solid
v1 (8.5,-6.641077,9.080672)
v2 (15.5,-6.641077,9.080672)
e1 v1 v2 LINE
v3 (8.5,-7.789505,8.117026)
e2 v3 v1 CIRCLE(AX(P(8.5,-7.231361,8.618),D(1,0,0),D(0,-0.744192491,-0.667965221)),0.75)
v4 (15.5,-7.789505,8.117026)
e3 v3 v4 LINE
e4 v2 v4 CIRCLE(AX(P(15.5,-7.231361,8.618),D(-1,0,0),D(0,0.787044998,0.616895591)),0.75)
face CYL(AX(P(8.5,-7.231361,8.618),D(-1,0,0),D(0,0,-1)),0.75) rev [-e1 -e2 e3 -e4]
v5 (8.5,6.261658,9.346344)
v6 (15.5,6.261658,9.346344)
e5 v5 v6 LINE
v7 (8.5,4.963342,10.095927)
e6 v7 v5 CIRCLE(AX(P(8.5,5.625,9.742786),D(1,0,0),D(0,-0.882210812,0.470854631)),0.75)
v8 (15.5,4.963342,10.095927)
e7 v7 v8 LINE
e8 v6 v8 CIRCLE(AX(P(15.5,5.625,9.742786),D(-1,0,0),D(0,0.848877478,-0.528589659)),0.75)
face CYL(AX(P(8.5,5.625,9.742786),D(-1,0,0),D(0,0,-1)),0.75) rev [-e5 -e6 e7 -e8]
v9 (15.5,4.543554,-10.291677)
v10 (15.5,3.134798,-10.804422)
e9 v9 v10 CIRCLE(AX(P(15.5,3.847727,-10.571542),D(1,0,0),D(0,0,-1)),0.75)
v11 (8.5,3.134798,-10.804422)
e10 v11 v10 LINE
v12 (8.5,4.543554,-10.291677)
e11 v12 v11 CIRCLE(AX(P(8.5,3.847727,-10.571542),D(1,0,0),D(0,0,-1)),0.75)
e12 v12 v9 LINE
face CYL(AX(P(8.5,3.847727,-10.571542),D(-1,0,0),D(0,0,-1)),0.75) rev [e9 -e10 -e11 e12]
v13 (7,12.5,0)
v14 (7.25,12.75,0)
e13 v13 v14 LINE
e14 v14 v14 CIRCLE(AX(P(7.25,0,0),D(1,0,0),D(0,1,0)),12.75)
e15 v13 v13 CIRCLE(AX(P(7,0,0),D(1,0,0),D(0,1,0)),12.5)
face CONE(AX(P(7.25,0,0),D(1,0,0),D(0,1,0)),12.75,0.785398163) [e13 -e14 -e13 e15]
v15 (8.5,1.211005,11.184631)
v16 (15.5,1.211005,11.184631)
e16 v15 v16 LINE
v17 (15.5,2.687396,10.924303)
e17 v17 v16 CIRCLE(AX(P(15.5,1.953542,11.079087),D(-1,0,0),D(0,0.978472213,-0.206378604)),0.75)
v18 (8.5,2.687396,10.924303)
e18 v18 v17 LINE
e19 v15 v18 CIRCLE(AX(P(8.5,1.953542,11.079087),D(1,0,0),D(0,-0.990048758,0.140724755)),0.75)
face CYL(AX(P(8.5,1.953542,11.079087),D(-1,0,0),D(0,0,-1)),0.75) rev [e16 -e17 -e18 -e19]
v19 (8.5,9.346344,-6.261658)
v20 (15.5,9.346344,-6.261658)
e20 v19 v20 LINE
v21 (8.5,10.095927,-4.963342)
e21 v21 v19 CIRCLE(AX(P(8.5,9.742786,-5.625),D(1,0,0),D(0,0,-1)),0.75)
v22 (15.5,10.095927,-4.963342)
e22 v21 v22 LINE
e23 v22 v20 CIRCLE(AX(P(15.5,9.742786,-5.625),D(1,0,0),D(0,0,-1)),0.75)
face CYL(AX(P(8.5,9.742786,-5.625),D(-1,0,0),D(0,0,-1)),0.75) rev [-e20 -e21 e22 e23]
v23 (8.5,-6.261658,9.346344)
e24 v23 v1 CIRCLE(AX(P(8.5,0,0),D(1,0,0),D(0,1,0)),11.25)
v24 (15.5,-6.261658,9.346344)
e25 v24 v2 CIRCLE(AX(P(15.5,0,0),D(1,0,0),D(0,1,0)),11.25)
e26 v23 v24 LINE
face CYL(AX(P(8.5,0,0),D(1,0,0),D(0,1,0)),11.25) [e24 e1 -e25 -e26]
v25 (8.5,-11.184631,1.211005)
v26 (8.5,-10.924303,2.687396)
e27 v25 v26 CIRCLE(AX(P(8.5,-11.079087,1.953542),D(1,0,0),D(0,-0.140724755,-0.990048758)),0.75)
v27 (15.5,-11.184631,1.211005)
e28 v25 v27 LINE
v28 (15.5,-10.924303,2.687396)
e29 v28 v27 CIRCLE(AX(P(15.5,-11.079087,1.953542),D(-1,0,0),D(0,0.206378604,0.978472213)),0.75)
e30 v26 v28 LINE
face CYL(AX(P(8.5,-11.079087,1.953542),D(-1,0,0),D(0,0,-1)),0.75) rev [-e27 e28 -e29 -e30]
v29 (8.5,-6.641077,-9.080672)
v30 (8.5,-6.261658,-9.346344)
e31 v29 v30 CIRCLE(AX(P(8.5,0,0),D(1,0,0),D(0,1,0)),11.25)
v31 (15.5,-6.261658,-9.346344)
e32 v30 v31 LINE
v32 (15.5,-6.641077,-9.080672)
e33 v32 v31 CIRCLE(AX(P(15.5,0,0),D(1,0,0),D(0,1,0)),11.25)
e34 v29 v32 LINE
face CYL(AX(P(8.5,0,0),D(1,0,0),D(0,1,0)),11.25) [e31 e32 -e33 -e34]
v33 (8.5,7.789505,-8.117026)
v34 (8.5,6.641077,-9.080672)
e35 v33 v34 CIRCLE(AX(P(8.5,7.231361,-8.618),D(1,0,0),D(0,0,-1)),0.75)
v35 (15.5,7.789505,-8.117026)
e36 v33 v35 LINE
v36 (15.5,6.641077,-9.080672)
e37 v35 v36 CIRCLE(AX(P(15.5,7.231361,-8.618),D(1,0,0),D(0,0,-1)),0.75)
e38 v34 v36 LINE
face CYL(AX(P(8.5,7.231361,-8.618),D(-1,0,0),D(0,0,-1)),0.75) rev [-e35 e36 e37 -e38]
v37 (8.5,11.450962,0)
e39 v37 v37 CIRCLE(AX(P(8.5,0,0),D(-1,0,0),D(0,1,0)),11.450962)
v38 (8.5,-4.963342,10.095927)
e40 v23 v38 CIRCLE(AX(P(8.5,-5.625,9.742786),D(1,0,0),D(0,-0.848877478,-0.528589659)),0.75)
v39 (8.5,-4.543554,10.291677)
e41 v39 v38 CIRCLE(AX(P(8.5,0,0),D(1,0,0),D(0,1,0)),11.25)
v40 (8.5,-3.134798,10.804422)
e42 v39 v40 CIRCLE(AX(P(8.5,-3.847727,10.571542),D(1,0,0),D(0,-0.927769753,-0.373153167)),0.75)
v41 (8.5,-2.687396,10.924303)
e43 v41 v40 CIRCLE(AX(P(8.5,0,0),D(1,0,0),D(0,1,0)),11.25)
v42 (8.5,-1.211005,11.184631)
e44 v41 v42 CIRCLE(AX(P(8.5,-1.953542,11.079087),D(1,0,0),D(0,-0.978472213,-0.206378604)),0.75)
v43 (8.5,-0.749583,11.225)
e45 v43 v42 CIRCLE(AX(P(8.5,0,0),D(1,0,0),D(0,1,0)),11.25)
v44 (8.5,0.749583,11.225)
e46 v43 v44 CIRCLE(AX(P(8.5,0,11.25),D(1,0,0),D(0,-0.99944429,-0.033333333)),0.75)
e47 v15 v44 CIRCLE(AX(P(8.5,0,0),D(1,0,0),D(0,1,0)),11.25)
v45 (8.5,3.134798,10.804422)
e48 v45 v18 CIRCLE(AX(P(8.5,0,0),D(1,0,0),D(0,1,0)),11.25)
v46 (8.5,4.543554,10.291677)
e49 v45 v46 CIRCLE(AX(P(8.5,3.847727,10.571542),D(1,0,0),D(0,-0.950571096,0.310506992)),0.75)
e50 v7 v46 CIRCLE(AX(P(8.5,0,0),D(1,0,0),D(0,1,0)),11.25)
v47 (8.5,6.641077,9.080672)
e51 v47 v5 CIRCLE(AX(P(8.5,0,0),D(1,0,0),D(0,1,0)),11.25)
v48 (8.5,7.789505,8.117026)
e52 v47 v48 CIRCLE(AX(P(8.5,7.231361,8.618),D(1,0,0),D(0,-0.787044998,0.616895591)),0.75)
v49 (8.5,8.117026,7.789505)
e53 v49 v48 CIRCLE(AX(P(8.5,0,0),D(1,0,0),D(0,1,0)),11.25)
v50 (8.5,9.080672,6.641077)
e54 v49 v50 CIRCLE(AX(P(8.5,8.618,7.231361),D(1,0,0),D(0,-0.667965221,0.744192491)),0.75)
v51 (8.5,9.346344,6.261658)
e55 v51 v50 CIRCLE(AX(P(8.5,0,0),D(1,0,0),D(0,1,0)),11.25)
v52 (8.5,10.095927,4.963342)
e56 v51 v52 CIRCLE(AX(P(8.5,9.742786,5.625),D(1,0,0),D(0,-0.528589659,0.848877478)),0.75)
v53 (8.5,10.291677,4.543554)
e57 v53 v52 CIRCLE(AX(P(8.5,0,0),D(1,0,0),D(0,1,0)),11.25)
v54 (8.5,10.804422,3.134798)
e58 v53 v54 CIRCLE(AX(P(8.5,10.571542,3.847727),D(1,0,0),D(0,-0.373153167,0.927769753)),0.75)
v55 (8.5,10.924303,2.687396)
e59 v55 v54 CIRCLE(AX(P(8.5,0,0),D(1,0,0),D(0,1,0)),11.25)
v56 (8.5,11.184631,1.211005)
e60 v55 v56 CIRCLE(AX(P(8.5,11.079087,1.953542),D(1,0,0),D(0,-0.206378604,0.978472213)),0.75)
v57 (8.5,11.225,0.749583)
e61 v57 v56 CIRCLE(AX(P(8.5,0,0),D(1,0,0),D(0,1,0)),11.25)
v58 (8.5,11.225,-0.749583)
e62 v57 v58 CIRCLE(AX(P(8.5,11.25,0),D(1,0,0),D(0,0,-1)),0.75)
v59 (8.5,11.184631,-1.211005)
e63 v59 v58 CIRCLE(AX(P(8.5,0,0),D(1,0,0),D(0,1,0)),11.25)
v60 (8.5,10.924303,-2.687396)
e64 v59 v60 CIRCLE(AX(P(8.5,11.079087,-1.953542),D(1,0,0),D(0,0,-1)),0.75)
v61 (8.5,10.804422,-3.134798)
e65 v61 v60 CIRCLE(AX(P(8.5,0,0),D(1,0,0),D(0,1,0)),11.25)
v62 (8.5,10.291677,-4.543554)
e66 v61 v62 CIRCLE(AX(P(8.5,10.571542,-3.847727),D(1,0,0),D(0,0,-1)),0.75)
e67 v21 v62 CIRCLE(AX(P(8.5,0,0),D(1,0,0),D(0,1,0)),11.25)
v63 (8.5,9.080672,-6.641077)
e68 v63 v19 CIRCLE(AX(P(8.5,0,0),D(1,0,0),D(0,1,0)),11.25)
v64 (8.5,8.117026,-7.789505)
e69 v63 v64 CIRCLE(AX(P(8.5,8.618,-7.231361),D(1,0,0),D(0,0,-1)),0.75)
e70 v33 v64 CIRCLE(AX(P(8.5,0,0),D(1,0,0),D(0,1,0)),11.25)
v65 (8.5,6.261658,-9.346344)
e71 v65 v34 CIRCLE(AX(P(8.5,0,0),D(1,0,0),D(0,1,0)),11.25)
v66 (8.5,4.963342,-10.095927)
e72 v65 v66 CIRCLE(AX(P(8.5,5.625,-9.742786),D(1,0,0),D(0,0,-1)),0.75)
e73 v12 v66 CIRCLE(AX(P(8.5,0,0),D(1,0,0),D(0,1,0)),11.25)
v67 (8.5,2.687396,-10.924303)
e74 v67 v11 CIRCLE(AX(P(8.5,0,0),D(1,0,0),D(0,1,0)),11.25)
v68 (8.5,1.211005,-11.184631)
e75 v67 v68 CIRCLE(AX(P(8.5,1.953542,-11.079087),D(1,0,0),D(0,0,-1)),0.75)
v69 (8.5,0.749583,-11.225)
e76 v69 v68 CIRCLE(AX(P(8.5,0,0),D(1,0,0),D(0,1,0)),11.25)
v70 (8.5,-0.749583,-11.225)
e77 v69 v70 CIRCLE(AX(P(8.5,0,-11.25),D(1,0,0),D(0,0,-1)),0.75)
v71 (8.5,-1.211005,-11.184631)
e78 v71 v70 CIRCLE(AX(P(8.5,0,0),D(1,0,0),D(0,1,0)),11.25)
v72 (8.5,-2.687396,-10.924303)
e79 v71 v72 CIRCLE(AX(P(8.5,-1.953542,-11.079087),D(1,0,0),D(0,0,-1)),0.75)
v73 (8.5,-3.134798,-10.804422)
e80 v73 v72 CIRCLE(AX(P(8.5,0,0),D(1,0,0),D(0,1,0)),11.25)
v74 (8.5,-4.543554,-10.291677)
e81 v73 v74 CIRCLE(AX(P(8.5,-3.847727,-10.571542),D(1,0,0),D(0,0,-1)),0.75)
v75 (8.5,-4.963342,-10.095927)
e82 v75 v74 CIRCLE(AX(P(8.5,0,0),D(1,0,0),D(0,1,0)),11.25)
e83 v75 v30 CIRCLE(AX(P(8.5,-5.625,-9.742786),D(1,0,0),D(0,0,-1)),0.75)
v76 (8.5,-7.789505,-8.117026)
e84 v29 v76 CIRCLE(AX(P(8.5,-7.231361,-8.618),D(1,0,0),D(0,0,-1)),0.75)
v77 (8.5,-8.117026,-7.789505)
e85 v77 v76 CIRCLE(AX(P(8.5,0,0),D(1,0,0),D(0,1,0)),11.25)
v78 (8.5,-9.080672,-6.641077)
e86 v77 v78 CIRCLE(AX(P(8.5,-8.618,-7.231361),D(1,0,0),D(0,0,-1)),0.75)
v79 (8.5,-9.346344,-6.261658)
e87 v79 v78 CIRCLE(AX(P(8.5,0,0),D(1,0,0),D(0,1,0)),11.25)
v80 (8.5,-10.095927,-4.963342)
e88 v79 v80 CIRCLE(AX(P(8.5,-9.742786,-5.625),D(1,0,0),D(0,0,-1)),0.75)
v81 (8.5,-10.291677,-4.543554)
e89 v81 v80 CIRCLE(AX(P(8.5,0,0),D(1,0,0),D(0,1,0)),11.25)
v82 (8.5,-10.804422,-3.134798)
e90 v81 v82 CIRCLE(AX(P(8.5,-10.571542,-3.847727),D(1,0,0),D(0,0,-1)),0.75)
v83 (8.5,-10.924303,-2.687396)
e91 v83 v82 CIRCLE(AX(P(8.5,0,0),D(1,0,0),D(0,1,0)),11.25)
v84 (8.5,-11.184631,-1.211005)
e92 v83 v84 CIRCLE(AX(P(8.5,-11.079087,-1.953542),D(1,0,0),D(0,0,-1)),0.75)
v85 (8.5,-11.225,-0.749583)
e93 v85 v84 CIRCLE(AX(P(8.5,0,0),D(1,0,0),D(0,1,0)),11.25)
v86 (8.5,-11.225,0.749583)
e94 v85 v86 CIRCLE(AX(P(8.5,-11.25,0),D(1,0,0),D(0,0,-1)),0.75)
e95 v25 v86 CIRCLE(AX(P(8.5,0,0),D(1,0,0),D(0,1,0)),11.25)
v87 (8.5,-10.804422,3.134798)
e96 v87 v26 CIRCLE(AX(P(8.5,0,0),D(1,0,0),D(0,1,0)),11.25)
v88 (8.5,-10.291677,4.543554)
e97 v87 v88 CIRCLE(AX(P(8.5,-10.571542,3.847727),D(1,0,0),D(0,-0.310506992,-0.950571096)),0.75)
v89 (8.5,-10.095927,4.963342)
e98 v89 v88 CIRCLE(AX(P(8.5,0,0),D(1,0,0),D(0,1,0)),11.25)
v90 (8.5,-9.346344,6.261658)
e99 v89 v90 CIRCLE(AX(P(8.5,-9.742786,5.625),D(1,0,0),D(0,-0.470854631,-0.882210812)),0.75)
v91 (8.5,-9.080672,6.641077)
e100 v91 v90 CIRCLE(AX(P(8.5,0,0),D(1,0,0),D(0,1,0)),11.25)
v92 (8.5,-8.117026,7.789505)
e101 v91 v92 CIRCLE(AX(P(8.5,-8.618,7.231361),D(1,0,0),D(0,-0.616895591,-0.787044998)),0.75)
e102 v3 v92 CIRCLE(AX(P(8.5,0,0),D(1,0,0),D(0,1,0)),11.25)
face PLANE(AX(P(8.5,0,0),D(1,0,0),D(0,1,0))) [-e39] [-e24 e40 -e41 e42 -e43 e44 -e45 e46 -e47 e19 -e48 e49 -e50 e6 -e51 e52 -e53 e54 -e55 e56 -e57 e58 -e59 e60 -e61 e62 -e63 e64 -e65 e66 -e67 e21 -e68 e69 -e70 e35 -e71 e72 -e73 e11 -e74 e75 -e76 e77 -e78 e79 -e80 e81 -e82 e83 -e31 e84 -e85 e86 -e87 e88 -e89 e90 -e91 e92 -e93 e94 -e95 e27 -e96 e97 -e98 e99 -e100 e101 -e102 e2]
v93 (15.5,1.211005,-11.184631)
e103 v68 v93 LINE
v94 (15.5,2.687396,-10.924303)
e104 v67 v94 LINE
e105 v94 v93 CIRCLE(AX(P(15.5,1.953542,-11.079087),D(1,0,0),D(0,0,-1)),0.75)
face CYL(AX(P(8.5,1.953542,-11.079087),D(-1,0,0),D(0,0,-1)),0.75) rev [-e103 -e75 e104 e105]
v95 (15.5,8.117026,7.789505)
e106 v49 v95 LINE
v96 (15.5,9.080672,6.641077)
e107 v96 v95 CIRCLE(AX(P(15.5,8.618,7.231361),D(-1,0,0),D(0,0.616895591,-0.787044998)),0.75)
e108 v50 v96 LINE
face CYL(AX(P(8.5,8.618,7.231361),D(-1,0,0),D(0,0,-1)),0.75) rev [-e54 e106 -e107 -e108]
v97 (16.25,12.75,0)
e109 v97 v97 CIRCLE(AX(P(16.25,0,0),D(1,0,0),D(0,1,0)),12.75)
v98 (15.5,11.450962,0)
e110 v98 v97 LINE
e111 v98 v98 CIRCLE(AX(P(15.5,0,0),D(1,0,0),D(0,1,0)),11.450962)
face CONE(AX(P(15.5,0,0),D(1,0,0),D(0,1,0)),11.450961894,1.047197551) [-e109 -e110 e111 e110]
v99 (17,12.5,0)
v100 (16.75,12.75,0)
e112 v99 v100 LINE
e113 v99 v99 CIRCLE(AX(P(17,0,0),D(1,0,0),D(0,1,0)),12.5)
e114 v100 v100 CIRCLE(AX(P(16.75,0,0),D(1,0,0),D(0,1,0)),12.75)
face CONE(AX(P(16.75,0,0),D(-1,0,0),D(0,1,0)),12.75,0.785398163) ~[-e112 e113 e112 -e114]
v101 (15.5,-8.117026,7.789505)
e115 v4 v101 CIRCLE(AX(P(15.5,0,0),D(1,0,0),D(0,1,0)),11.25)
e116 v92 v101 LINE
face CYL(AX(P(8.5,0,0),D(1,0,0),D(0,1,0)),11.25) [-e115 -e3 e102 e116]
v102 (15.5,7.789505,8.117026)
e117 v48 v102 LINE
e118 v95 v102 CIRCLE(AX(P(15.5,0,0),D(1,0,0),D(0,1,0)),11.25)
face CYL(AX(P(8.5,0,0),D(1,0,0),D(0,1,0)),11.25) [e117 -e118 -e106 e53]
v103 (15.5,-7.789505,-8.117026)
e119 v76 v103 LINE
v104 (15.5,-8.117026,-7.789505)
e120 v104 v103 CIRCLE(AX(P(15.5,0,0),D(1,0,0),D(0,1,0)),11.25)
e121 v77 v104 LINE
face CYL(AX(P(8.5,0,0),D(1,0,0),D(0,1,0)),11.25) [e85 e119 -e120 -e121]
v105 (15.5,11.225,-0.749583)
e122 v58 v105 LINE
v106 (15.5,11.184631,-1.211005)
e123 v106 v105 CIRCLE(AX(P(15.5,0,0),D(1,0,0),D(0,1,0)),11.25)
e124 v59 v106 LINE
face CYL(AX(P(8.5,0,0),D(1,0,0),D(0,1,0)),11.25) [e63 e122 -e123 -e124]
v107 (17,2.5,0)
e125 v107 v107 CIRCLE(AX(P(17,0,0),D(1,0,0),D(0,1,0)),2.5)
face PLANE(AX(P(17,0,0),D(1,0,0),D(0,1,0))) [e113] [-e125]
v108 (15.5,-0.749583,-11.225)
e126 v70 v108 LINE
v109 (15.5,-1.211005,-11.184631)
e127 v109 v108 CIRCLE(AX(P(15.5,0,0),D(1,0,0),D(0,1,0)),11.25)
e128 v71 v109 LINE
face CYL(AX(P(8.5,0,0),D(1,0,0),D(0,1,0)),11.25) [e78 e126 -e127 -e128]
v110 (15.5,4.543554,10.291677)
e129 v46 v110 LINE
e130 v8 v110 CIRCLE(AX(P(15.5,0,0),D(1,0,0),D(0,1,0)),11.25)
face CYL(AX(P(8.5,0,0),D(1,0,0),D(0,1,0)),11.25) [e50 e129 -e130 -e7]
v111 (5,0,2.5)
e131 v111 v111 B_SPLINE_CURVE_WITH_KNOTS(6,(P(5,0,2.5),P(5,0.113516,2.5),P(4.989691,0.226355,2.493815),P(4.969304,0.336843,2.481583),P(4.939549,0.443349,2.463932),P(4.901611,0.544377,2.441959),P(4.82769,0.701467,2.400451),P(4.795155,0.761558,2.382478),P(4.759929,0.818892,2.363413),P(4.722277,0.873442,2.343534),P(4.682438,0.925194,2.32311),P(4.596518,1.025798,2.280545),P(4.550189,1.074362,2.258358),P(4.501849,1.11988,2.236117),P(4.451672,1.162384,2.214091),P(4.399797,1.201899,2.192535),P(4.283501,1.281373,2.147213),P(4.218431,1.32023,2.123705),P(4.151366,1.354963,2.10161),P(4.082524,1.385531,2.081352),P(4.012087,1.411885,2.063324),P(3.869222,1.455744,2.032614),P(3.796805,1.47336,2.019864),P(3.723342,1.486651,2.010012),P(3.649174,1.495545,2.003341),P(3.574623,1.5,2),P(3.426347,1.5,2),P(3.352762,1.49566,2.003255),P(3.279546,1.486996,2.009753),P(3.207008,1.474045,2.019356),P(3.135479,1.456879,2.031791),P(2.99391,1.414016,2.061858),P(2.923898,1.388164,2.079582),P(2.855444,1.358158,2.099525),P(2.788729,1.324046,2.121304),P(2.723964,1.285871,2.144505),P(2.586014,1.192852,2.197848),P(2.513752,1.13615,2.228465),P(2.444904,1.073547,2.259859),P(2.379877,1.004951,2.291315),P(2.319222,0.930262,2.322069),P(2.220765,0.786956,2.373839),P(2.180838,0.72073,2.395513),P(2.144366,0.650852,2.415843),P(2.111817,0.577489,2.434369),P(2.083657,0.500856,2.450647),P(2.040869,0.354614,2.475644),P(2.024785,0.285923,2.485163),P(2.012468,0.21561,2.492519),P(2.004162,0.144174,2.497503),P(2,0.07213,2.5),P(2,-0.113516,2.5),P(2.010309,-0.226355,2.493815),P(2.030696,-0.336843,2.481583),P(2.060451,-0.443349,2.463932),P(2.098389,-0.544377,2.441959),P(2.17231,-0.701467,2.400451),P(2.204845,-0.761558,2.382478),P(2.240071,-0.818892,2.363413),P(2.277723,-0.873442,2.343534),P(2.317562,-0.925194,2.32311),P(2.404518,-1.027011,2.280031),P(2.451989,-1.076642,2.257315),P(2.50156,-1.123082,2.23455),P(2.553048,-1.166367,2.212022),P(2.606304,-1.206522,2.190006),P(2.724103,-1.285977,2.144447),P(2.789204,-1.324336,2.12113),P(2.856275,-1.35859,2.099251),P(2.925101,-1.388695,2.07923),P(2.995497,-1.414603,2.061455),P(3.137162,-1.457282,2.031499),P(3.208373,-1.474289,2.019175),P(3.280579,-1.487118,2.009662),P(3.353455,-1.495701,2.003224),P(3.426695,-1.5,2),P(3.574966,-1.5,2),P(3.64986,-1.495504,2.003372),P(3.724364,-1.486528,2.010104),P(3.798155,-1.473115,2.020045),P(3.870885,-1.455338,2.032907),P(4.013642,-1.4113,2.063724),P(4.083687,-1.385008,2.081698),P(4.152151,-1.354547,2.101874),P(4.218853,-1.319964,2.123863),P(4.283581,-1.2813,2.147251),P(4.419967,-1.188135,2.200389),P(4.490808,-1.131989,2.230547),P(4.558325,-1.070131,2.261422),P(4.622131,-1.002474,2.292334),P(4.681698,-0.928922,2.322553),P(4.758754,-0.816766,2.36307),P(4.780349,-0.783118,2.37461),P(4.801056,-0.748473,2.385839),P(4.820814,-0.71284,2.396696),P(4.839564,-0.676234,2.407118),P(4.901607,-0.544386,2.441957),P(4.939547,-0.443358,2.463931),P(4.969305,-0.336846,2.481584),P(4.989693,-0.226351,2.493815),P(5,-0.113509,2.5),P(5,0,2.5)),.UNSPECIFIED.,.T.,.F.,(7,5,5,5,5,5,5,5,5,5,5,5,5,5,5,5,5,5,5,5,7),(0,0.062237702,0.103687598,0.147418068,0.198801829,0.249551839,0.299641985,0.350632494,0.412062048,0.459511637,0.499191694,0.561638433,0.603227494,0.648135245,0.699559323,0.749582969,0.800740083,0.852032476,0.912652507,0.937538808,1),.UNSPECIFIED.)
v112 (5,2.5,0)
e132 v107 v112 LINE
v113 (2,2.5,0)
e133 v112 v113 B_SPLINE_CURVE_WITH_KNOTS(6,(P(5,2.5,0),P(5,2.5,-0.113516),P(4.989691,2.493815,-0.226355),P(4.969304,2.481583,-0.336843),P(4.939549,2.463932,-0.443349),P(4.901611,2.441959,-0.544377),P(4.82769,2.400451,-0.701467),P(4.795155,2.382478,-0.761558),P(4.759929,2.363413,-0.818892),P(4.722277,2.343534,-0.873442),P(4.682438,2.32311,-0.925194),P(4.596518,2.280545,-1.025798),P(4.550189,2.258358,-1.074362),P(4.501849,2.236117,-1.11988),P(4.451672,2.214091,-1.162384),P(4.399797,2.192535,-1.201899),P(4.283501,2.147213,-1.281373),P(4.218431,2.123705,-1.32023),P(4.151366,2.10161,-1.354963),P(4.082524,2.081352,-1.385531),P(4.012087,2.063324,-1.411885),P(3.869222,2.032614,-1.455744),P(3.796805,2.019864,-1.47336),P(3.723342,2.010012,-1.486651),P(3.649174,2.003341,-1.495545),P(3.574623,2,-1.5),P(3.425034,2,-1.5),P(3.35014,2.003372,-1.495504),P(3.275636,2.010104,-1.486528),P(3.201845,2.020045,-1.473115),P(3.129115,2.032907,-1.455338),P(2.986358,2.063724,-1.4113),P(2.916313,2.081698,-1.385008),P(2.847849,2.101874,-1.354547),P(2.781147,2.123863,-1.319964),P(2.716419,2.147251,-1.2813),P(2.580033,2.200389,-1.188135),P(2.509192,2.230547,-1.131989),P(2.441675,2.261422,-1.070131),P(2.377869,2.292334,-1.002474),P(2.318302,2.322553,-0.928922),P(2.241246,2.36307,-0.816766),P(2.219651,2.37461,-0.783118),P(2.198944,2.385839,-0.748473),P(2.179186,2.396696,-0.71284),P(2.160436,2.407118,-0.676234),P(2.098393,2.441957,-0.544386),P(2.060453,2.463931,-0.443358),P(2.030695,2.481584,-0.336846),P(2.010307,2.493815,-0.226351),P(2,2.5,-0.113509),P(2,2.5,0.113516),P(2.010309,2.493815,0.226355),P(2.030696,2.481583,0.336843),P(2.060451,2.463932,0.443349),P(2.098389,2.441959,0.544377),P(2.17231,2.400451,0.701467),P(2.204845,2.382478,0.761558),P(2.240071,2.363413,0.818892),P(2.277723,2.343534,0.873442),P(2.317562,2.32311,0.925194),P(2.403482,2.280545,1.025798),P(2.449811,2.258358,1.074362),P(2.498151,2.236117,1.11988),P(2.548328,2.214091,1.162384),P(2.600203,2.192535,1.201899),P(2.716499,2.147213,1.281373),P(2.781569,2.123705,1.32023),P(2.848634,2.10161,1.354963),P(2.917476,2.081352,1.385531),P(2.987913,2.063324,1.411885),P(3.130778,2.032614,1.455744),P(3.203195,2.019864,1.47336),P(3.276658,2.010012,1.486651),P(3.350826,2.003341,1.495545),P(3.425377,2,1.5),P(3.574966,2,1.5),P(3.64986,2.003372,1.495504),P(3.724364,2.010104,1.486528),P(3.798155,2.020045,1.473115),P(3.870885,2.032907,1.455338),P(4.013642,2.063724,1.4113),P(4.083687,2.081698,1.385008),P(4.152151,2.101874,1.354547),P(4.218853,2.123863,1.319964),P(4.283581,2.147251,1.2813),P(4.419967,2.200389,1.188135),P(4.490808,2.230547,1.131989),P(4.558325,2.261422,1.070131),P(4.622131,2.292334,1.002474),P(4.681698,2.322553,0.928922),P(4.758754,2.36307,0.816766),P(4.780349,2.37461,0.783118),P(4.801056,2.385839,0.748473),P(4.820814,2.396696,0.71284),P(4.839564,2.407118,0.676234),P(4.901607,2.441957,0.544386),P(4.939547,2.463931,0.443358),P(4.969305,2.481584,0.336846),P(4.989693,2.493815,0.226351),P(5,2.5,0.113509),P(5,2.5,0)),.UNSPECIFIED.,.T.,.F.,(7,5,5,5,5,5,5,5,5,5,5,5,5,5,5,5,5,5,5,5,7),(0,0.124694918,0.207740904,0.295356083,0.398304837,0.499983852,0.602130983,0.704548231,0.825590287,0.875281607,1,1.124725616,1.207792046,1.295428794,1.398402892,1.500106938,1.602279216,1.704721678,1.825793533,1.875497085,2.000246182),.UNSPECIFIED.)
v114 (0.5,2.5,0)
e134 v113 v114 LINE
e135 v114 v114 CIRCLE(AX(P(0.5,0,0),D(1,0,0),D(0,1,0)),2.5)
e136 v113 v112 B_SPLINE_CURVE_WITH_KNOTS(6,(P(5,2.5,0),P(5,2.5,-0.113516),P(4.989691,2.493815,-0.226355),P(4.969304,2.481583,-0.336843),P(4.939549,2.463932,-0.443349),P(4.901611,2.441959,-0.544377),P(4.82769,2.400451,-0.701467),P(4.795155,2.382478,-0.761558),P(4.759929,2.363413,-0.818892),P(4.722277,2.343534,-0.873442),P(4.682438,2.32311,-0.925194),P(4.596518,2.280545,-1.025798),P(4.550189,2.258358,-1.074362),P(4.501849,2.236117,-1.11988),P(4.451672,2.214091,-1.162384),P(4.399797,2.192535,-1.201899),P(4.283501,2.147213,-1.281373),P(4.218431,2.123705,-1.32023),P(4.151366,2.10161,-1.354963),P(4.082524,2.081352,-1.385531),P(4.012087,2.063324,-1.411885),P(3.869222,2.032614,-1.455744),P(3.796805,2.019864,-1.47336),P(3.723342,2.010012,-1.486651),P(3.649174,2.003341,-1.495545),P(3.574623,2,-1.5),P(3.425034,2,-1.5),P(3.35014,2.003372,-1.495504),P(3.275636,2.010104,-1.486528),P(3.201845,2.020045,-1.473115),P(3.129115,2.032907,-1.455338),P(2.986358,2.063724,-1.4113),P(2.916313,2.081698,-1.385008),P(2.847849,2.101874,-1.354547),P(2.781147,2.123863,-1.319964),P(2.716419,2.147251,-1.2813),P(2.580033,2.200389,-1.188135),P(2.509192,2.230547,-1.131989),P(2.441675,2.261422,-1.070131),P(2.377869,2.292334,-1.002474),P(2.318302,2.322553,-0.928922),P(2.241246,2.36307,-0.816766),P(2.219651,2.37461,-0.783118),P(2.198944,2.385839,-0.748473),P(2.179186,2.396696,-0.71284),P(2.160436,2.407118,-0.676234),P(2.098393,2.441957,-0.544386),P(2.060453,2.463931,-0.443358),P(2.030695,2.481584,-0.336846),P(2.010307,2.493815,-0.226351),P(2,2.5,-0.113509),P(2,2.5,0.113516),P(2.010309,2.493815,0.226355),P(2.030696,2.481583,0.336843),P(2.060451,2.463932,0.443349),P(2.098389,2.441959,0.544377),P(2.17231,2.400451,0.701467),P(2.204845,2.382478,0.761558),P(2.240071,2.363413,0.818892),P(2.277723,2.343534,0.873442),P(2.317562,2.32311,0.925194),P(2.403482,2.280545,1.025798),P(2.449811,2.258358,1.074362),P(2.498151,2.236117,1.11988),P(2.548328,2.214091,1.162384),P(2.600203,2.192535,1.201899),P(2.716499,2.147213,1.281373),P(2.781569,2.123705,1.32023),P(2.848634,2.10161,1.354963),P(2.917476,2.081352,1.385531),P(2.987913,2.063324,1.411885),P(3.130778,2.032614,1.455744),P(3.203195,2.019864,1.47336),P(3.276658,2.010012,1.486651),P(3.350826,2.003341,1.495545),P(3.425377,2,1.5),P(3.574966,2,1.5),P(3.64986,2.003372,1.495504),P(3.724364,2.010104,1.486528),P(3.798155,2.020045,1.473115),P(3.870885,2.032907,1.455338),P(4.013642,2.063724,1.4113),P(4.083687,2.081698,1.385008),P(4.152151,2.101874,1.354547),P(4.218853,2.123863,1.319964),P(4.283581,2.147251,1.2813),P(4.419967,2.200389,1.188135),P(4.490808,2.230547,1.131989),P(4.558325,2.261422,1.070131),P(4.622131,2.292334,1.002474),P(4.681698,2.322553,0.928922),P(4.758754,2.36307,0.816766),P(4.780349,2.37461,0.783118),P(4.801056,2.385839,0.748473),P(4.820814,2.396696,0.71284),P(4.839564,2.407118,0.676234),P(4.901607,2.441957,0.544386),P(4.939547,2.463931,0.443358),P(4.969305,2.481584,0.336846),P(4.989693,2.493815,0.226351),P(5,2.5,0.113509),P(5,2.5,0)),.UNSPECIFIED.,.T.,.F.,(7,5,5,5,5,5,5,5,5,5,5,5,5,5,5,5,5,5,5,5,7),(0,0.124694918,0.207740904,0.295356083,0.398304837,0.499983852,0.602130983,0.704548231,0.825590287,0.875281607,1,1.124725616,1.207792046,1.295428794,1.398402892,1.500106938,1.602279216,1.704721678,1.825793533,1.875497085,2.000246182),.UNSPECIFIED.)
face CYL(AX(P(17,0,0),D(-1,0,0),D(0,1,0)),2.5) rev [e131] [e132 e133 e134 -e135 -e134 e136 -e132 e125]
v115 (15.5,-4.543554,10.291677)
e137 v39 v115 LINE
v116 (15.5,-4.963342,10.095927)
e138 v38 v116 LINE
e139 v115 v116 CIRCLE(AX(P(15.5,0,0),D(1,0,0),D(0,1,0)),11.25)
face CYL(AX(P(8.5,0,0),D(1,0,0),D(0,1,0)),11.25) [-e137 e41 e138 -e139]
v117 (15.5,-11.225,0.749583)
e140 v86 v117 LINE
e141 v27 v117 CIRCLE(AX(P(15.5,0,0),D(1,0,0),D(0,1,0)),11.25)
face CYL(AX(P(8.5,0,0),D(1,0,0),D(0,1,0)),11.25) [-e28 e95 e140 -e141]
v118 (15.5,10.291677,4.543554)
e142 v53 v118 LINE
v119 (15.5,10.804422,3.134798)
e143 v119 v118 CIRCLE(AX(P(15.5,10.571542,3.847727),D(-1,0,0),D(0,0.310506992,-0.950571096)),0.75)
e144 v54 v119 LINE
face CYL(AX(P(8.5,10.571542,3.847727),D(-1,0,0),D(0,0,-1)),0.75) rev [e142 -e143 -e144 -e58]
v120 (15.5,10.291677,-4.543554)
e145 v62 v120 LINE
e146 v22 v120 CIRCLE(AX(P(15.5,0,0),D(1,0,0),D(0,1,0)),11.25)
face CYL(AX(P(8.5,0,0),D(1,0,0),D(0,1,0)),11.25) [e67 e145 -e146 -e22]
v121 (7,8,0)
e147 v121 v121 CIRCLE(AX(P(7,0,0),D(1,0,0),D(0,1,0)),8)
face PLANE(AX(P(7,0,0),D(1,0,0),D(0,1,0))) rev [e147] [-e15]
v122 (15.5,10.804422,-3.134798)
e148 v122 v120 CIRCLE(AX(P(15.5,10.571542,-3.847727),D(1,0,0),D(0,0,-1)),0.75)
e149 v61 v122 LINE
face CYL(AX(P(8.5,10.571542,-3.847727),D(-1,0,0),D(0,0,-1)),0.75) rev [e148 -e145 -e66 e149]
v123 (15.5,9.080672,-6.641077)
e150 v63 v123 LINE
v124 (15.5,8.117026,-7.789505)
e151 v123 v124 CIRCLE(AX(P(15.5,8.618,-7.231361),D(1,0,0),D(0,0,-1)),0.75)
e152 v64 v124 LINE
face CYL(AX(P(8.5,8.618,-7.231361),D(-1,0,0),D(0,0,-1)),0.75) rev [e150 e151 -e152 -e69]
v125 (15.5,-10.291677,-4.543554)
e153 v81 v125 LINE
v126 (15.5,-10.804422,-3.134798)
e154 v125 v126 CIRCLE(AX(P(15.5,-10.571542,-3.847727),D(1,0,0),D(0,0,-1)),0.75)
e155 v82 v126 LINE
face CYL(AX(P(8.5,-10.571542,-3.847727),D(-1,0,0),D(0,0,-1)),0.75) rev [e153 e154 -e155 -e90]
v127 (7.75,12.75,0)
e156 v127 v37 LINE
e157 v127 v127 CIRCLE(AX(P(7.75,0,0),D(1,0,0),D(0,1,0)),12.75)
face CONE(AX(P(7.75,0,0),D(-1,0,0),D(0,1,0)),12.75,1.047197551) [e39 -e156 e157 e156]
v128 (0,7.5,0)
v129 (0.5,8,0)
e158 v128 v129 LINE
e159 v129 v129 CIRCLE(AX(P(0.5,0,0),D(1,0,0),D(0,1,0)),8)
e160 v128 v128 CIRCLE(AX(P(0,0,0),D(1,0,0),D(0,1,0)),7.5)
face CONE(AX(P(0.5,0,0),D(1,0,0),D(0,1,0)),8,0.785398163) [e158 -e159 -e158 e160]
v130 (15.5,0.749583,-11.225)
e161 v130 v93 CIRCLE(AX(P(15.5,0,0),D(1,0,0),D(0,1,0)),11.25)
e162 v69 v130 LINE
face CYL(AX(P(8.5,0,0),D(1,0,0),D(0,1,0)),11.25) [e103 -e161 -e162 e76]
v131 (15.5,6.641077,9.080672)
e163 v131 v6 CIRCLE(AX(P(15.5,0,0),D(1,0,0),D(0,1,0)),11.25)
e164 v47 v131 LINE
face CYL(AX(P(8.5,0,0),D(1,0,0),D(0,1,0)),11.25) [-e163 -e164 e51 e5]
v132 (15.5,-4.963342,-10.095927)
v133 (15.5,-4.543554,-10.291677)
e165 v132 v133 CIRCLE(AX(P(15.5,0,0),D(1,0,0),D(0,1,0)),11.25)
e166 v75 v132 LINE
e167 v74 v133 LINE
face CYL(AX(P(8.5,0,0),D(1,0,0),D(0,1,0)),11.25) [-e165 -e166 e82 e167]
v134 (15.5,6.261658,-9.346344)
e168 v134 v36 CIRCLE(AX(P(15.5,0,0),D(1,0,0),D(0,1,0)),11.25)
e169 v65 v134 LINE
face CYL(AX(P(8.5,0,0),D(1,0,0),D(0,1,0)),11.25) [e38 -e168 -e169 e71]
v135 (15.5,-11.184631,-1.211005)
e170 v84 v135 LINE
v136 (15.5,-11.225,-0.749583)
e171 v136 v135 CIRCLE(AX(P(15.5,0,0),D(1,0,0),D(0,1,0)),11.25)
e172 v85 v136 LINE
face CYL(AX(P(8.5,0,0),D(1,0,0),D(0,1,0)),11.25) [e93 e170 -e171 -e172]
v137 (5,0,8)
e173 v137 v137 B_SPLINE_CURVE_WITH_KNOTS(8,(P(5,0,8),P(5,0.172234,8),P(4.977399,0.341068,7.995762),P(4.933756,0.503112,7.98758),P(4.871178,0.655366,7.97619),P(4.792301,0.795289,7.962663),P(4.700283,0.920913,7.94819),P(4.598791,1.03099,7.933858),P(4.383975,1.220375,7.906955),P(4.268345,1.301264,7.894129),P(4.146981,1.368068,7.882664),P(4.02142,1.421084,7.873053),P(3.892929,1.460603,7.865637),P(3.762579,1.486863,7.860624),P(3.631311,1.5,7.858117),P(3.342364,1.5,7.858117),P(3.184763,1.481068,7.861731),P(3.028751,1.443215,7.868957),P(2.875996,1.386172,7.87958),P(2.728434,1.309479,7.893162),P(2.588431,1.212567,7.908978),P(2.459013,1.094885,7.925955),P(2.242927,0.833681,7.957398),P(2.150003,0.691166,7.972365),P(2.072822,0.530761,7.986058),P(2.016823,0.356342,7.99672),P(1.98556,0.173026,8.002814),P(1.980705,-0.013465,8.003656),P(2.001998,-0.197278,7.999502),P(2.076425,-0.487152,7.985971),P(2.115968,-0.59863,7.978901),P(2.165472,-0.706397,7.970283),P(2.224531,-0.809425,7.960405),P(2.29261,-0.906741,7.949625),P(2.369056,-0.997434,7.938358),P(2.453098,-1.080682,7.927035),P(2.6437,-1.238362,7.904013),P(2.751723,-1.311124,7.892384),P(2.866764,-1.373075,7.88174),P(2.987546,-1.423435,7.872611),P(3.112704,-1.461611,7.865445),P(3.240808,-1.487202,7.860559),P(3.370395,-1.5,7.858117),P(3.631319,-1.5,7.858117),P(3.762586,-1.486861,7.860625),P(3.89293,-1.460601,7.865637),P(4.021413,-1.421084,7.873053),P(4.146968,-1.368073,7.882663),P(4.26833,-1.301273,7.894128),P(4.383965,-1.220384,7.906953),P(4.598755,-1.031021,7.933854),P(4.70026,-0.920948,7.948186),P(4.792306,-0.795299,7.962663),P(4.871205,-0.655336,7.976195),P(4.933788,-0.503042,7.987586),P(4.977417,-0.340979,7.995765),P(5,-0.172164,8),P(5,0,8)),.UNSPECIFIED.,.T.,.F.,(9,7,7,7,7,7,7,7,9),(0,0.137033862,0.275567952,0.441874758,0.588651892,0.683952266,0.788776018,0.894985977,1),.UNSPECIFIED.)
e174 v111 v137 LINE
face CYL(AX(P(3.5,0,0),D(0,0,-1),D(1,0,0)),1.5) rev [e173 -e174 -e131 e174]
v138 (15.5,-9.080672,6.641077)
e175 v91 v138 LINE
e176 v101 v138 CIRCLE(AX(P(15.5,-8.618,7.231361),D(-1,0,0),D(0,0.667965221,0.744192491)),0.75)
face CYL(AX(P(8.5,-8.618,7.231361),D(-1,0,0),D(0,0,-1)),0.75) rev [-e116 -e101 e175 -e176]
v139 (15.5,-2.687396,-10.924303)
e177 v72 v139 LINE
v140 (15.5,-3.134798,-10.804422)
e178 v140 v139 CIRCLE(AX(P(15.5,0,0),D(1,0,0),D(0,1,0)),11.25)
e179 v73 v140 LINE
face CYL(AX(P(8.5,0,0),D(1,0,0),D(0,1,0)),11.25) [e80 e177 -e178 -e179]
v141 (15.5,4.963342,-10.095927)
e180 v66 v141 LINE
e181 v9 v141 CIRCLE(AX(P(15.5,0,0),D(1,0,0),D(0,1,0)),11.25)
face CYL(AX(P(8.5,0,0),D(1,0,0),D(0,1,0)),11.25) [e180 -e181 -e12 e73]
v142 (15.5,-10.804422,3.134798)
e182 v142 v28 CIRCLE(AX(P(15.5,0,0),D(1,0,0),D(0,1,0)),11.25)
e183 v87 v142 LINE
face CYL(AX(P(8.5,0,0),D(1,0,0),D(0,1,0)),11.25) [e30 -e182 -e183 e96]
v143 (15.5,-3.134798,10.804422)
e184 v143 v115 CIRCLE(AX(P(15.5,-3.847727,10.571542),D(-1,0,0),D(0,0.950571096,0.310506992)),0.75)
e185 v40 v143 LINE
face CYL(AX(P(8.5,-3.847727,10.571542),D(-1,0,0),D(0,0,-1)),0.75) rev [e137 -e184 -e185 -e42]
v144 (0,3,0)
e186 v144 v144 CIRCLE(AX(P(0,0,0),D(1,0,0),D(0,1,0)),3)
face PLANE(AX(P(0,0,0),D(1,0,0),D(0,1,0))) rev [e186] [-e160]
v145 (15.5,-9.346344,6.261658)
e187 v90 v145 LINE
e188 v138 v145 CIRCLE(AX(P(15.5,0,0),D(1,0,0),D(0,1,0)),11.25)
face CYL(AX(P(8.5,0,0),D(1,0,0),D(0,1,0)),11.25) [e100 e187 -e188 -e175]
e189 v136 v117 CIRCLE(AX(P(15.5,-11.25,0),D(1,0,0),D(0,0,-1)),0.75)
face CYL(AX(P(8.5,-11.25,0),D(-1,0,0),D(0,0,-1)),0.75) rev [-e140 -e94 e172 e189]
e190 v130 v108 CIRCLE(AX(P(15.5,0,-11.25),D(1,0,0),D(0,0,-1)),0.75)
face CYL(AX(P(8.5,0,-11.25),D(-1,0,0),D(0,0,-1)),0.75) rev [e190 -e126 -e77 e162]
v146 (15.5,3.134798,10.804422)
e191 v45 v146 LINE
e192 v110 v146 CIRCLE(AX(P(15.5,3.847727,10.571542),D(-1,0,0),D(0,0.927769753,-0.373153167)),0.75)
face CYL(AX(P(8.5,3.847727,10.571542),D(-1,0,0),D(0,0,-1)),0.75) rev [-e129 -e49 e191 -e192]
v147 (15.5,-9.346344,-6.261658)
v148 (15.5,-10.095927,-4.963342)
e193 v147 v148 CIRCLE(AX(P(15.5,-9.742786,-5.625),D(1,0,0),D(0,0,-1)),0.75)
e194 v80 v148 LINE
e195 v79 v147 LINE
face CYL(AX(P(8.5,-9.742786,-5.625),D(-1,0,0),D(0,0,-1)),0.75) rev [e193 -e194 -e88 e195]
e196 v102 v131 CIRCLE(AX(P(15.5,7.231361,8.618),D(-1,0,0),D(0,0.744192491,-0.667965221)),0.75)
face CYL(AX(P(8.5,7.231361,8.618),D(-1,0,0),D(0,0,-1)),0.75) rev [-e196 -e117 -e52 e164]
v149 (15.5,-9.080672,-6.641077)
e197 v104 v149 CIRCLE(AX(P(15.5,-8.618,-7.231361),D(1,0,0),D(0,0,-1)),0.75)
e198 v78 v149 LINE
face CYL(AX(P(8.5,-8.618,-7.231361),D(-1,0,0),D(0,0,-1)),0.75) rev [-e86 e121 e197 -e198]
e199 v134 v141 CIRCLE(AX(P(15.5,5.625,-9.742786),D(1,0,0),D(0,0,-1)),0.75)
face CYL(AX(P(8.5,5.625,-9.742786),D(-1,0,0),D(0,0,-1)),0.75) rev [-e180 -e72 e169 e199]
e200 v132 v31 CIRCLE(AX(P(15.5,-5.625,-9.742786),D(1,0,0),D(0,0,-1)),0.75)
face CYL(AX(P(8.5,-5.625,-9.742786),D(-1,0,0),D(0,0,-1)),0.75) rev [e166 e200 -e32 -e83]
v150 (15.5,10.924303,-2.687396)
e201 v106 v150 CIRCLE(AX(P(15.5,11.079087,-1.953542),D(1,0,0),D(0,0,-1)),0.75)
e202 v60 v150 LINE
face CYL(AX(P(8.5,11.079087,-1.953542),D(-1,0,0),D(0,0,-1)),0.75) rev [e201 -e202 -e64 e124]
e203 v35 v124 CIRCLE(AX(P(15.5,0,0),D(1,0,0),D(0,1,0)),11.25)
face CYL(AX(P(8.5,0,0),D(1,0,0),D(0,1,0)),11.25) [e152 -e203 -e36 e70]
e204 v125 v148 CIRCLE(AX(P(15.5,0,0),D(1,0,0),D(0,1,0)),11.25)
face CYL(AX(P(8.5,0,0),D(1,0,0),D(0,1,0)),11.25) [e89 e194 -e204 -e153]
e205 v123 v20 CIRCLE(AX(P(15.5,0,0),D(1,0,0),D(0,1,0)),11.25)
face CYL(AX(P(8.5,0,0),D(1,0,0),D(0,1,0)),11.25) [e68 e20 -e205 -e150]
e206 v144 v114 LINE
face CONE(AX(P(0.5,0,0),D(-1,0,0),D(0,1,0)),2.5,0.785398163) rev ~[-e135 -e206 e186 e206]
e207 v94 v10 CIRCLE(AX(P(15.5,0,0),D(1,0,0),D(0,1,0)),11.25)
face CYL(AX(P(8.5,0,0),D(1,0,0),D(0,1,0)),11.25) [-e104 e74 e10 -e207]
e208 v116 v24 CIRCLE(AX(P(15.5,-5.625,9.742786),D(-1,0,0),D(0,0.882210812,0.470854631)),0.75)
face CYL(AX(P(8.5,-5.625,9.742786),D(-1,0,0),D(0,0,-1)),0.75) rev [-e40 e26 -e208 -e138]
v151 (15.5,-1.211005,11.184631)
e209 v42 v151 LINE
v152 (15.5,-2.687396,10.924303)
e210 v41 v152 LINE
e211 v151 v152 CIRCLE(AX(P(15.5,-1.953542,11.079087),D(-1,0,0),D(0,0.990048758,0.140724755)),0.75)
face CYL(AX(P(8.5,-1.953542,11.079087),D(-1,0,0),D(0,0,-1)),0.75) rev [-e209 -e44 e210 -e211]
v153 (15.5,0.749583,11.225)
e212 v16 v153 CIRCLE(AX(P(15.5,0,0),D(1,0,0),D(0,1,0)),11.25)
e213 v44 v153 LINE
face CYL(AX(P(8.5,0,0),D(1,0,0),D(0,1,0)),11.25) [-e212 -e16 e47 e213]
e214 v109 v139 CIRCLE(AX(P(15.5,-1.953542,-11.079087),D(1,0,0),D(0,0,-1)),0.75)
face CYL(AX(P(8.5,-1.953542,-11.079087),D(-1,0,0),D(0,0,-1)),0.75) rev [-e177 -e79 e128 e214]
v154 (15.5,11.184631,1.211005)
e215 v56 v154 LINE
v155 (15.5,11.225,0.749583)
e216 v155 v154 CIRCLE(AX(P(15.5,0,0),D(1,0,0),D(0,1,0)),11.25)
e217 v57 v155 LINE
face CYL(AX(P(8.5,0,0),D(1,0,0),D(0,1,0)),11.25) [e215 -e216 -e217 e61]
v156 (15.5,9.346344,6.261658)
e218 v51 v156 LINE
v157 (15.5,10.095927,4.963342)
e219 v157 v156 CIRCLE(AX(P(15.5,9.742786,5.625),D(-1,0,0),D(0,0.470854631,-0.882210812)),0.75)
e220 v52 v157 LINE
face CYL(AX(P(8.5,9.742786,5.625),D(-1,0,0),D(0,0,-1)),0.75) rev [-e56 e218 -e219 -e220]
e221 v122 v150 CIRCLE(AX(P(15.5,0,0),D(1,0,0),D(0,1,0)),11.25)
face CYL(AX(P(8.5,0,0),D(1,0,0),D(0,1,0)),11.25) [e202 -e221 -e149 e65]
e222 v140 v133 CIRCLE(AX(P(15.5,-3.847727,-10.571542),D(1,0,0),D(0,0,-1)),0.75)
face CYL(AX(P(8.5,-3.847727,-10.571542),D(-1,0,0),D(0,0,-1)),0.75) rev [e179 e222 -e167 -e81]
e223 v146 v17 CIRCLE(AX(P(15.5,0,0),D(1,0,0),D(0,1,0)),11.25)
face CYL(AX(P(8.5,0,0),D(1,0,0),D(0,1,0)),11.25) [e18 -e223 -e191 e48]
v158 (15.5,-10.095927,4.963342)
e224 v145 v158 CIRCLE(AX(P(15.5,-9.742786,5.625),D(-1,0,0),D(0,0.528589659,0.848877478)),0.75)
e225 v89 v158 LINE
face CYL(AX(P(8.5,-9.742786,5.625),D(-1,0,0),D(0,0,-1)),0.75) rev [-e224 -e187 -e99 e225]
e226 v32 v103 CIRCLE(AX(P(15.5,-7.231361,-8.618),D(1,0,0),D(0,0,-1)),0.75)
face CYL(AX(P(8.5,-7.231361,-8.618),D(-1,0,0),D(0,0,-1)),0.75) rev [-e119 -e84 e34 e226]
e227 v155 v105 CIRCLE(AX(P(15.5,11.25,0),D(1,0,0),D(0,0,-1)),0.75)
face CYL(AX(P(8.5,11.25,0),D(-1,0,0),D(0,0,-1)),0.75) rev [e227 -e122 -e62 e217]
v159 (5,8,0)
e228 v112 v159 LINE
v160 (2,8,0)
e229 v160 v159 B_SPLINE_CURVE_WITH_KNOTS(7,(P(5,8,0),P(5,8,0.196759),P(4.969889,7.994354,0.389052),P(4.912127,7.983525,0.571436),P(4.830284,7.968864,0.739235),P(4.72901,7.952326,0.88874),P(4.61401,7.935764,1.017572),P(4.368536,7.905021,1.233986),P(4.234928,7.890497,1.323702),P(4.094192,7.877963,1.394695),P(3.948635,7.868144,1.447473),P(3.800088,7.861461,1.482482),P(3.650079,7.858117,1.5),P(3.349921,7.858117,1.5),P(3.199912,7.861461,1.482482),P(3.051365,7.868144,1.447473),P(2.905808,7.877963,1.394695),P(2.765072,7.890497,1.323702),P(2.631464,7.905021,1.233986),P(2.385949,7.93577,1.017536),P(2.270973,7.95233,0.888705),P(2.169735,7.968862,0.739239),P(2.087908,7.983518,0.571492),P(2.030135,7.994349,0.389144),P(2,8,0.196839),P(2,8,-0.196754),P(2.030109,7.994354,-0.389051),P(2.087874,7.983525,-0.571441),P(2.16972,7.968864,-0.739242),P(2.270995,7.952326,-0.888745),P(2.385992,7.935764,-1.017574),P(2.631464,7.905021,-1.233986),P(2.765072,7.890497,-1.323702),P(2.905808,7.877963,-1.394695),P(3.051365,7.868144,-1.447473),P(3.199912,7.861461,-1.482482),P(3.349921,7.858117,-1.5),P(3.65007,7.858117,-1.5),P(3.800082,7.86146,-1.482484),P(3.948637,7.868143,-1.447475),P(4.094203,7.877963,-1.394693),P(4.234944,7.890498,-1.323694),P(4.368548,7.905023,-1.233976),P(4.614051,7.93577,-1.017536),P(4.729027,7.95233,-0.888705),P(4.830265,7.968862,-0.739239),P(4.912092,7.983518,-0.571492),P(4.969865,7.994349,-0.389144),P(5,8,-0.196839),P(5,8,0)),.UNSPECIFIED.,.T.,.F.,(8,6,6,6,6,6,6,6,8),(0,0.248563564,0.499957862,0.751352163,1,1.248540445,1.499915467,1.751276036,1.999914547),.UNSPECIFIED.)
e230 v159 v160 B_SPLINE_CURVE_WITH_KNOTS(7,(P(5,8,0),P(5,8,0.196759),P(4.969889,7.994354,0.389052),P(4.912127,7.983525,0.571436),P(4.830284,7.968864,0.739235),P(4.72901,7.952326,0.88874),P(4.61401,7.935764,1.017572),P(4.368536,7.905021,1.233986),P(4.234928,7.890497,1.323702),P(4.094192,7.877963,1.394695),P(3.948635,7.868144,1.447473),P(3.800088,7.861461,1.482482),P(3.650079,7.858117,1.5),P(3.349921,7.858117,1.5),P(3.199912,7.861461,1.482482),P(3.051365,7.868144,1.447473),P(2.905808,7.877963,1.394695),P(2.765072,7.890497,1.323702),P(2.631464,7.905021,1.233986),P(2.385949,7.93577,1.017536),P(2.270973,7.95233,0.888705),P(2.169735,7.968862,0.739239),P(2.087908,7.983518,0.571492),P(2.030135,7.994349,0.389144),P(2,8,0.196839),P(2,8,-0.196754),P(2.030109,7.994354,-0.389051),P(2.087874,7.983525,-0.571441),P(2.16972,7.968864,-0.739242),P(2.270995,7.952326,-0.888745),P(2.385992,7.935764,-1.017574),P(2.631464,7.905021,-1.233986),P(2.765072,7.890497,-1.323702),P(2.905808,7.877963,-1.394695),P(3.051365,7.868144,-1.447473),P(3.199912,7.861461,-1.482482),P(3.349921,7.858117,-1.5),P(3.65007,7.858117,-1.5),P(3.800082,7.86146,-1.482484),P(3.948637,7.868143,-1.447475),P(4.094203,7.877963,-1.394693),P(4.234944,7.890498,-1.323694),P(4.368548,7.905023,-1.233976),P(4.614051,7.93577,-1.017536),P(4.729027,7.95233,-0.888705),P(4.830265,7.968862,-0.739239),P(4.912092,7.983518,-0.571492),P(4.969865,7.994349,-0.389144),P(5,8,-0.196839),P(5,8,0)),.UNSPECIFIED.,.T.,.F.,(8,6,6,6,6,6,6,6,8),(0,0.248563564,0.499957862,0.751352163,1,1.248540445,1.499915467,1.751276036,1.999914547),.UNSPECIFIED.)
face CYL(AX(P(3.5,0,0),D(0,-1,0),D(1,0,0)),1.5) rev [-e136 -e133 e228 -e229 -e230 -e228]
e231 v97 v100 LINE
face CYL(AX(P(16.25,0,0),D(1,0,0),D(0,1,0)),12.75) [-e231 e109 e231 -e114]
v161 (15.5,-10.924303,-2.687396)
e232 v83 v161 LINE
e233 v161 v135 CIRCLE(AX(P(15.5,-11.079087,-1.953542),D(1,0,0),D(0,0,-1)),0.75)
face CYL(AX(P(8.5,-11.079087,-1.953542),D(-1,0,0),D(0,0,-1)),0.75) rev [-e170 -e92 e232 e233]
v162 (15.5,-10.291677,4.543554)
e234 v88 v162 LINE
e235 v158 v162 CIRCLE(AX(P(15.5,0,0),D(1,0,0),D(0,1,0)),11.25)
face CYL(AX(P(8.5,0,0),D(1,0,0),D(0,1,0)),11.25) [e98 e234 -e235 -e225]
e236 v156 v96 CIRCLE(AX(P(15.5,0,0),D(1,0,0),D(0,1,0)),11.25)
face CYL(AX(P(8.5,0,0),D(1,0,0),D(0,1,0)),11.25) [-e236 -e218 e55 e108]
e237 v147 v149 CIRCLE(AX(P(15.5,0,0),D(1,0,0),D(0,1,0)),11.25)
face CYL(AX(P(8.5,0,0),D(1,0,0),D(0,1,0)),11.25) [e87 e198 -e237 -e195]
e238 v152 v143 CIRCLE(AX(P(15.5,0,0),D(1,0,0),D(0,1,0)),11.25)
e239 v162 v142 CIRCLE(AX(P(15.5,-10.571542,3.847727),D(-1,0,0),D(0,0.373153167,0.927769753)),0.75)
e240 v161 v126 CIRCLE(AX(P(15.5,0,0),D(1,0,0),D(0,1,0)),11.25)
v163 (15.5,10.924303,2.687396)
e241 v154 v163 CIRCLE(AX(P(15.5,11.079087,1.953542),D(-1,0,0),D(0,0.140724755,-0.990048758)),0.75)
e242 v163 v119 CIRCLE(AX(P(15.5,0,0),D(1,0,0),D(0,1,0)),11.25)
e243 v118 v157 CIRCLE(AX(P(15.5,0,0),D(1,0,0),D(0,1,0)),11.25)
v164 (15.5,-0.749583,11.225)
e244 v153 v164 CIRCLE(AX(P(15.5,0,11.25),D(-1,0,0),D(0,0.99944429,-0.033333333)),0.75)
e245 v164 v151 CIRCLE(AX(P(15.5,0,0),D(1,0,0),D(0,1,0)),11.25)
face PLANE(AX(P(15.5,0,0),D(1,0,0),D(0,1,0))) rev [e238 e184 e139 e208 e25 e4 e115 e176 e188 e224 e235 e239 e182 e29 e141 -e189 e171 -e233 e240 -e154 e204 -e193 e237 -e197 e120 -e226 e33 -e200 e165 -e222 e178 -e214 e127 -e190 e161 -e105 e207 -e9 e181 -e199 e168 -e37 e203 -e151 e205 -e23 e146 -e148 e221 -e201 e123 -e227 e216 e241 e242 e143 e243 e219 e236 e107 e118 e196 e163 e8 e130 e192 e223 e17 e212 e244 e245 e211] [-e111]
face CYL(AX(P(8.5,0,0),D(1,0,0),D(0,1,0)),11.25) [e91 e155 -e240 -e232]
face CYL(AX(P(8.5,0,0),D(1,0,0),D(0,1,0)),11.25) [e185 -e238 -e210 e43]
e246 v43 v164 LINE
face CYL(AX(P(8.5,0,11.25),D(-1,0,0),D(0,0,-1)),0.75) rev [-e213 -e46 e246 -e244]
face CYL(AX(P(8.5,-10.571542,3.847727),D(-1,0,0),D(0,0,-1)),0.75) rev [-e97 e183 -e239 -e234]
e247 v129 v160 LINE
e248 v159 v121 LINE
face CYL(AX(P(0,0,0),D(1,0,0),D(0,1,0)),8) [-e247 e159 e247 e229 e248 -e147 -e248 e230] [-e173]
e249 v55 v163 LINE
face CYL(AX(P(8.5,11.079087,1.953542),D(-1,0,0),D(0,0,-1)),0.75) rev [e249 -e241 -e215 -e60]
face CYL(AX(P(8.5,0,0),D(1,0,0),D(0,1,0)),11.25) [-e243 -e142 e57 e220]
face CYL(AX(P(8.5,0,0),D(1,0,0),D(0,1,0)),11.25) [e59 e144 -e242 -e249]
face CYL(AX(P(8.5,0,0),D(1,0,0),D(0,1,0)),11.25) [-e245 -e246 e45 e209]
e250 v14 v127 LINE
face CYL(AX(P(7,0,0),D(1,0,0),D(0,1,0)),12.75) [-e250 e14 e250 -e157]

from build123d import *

# Parameters (mm, degrees)
SCHIZZO5_R               = 0.75
TAGLIO_ESTRUSIONE1_DEPTH = 7
TAGLIO_ESTRUSIONE2_REACH = 14.75
SCHIZZO6_R               = 1.5
TAGLIO_ESTRUSIONE3_REACH = 14.75
SCHIZZO7_R               = 1.5
SMUSSO1_SIZE             = 0.5
SMUSSO2_SIZE             = 0.25


with BuildPart() as part:
    # Schizzo4 → Rivoluzione1 (revolve)
    with BuildSketch(Plane.XY):
        Polygon((0, 2.5), (0, 8), (7, 8), (7, 12.75), (7.75, 12.75), (8.5, 11.450961894), (8.5, 11.25), (15.5, 11.25), (15.5, 11.450961894), (16.25, 12.75), (17, 12.75), (17, 2.5), align=None)
    revolve(axis=Axis((0, 0, 0), (1, 0, 0)))

    # Schizzo5 → Taglio-Estrusione1 (cut)
    with BuildSketch(Plane(origin=(8.5, 0, 0), x_dir=(0, 0, -1), z_dir=(1, 0, 0))):
        with Locations((0, 11.25)):
            Circle(SCHIZZO5_R)
        with Locations((1.953541999, 11.079087221)):
            Circle(SCHIZZO5_R)
        with Locations((3.847726612, 10.571541984)):
            Circle(SCHIZZO5_R)
        with Locations((5.625, 9.742785793)):
            Circle(SCHIZZO5_R)
        with Locations((7.231360609, 8.617999985)):
            Circle(SCHIZZO5_R)
        with Locations((8.617999985, 7.231360609)):
            Circle(SCHIZZO5_R)
        with Locations((9.742785793, 5.625)):
            Circle(SCHIZZO5_R)
        with Locations((10.571541984, 3.847726612)):
            Circle(SCHIZZO5_R)
        with Locations((11.079087221, 1.953541999)):
            Circle(SCHIZZO5_R)
        with Locations((11.25, 0)):
            Circle(SCHIZZO5_R)
        with Locations((11.079087221, -1.953541999)):
            Circle(SCHIZZO5_R)
        with Locations((10.571541984, -3.847726612)):
            Circle(SCHIZZO5_R)
        with Locations((9.742785793, -5.625)):
            Circle(SCHIZZO5_R)
        with Locations((8.617999985, -7.231360609)):
            Circle(SCHIZZO5_R)
        with Locations((7.231360609, -8.617999985)):
            Circle(SCHIZZO5_R)
        with Locations((5.625, -9.742785793)):
            Circle(SCHIZZO5_R)
        with Locations((3.847726612, -10.571541984)):
            Circle(SCHIZZO5_R)
        with Locations((1.953541999, -11.079087221)):
            Circle(SCHIZZO5_R)
        with Locations((0, -11.25)):
            Circle(SCHIZZO5_R)
        with Locations((-1.953541999, -11.079087221)):
            Circle(SCHIZZO5_R)
        with Locations((-3.847726612, -10.571541984)):
            Circle(SCHIZZO5_R)
        with Locations((-5.625, -9.742785793)):
            Circle(SCHIZZO5_R)
        with Locations((-7.231360609, -8.617999985)):
            Circle(SCHIZZO5_R)
        with Locations((-8.617999985, -7.231360609)):
            Circle(SCHIZZO5_R)
        with Locations((-9.742785793, -5.625)):
            Circle(SCHIZZO5_R)
        with Locations((-10.571541984, -3.847726612)):
            Circle(SCHIZZO5_R)
        with Locations((-11.079087221, -1.953541999)):
            Circle(SCHIZZO5_R)
        with Locations((-11.25, 0)):
            Circle(SCHIZZO5_R)
        with Locations((-11.079087221, 1.953541999)):
            Circle(SCHIZZO5_R)
        with Locations((-10.571541984, 3.847726612)):
            Circle(SCHIZZO5_R)
        with Locations((-9.742785793, 5.625)):
            Circle(SCHIZZO5_R)
        with Locations((-8.617999985, 7.231360609)):
            Circle(SCHIZZO5_R)
        with Locations((-7.231360609, 8.617999985)):
            Circle(SCHIZZO5_R)
        with Locations((-5.625, 9.742785793)):
            Circle(SCHIZZO5_R)
        with Locations((-3.847726612, 10.571541984)):
            Circle(SCHIZZO5_R)
        with Locations((-1.953541999, 11.079087221)):
            Circle(SCHIZZO5_R)
    extrude(amount=TAGLIO_ESTRUSIONE1_DEPTH, mode=Mode.SUBTRACT)

    # Schizzo6 → Taglio-Estrusione2 (cut, up to next)
    with BuildSketch(Plane.XY, mode=Mode.PRIVATE) as taglio_estrusione2_sk1:
        with Locations((3.5, 0)):
            Circle(SCHIZZO6_R)
    taglio_estrusione2_tool1 = extrude(taglio_estrusione2_sk1.sketch, amount=TAGLIO_ESTRUSIONE2_REACH, mode=Mode.PRIVATE) & part.part
    add(taglio_estrusione2_tool1.solids().sort_by_distance((3.5, 0, 0))[0], mode=Mode.SUBTRACT)

    # Schizzo7 → Taglio-Estrusione3 (cut, up to next)
    with BuildSketch(Plane(origin=(0, 0, 0), x_dir=(1, 0, 0), z_dir=(0, 1, 0)), mode=Mode.PRIVATE) as taglio_estrusione3_sk1:
        with Locations((3.5, 0)):
            Circle(SCHIZZO7_R)
    taglio_estrusione3_tool1 = extrude(taglio_estrusione3_sk1.sketch, amount=TAGLIO_ESTRUSIONE3_REACH, mode=Mode.PRIVATE) & part.part
    add(taglio_estrusione3_tool1.solids().sort_by_distance((3.5, 0, 0))[0], mode=Mode.SUBTRACT)

    # Smusso1
    smusso1_edges = [part.edges().sort_by_distance(p)[0] for p in [
        (0, -8, 0),
        (0, -2.5, 0),
    ]]
    chamfer(smusso1_edges, length=SMUSSO1_SIZE)

    # Smusso2
    smusso2_edges = [part.edges().sort_by_distance(p)[0] for p in [
        (7, -12.75, 0),
        (17, -12.75, 0),
    ]]
    chamfer(smusso2_edges, length=SMUSSO2_SIZE)


solid = part.part
